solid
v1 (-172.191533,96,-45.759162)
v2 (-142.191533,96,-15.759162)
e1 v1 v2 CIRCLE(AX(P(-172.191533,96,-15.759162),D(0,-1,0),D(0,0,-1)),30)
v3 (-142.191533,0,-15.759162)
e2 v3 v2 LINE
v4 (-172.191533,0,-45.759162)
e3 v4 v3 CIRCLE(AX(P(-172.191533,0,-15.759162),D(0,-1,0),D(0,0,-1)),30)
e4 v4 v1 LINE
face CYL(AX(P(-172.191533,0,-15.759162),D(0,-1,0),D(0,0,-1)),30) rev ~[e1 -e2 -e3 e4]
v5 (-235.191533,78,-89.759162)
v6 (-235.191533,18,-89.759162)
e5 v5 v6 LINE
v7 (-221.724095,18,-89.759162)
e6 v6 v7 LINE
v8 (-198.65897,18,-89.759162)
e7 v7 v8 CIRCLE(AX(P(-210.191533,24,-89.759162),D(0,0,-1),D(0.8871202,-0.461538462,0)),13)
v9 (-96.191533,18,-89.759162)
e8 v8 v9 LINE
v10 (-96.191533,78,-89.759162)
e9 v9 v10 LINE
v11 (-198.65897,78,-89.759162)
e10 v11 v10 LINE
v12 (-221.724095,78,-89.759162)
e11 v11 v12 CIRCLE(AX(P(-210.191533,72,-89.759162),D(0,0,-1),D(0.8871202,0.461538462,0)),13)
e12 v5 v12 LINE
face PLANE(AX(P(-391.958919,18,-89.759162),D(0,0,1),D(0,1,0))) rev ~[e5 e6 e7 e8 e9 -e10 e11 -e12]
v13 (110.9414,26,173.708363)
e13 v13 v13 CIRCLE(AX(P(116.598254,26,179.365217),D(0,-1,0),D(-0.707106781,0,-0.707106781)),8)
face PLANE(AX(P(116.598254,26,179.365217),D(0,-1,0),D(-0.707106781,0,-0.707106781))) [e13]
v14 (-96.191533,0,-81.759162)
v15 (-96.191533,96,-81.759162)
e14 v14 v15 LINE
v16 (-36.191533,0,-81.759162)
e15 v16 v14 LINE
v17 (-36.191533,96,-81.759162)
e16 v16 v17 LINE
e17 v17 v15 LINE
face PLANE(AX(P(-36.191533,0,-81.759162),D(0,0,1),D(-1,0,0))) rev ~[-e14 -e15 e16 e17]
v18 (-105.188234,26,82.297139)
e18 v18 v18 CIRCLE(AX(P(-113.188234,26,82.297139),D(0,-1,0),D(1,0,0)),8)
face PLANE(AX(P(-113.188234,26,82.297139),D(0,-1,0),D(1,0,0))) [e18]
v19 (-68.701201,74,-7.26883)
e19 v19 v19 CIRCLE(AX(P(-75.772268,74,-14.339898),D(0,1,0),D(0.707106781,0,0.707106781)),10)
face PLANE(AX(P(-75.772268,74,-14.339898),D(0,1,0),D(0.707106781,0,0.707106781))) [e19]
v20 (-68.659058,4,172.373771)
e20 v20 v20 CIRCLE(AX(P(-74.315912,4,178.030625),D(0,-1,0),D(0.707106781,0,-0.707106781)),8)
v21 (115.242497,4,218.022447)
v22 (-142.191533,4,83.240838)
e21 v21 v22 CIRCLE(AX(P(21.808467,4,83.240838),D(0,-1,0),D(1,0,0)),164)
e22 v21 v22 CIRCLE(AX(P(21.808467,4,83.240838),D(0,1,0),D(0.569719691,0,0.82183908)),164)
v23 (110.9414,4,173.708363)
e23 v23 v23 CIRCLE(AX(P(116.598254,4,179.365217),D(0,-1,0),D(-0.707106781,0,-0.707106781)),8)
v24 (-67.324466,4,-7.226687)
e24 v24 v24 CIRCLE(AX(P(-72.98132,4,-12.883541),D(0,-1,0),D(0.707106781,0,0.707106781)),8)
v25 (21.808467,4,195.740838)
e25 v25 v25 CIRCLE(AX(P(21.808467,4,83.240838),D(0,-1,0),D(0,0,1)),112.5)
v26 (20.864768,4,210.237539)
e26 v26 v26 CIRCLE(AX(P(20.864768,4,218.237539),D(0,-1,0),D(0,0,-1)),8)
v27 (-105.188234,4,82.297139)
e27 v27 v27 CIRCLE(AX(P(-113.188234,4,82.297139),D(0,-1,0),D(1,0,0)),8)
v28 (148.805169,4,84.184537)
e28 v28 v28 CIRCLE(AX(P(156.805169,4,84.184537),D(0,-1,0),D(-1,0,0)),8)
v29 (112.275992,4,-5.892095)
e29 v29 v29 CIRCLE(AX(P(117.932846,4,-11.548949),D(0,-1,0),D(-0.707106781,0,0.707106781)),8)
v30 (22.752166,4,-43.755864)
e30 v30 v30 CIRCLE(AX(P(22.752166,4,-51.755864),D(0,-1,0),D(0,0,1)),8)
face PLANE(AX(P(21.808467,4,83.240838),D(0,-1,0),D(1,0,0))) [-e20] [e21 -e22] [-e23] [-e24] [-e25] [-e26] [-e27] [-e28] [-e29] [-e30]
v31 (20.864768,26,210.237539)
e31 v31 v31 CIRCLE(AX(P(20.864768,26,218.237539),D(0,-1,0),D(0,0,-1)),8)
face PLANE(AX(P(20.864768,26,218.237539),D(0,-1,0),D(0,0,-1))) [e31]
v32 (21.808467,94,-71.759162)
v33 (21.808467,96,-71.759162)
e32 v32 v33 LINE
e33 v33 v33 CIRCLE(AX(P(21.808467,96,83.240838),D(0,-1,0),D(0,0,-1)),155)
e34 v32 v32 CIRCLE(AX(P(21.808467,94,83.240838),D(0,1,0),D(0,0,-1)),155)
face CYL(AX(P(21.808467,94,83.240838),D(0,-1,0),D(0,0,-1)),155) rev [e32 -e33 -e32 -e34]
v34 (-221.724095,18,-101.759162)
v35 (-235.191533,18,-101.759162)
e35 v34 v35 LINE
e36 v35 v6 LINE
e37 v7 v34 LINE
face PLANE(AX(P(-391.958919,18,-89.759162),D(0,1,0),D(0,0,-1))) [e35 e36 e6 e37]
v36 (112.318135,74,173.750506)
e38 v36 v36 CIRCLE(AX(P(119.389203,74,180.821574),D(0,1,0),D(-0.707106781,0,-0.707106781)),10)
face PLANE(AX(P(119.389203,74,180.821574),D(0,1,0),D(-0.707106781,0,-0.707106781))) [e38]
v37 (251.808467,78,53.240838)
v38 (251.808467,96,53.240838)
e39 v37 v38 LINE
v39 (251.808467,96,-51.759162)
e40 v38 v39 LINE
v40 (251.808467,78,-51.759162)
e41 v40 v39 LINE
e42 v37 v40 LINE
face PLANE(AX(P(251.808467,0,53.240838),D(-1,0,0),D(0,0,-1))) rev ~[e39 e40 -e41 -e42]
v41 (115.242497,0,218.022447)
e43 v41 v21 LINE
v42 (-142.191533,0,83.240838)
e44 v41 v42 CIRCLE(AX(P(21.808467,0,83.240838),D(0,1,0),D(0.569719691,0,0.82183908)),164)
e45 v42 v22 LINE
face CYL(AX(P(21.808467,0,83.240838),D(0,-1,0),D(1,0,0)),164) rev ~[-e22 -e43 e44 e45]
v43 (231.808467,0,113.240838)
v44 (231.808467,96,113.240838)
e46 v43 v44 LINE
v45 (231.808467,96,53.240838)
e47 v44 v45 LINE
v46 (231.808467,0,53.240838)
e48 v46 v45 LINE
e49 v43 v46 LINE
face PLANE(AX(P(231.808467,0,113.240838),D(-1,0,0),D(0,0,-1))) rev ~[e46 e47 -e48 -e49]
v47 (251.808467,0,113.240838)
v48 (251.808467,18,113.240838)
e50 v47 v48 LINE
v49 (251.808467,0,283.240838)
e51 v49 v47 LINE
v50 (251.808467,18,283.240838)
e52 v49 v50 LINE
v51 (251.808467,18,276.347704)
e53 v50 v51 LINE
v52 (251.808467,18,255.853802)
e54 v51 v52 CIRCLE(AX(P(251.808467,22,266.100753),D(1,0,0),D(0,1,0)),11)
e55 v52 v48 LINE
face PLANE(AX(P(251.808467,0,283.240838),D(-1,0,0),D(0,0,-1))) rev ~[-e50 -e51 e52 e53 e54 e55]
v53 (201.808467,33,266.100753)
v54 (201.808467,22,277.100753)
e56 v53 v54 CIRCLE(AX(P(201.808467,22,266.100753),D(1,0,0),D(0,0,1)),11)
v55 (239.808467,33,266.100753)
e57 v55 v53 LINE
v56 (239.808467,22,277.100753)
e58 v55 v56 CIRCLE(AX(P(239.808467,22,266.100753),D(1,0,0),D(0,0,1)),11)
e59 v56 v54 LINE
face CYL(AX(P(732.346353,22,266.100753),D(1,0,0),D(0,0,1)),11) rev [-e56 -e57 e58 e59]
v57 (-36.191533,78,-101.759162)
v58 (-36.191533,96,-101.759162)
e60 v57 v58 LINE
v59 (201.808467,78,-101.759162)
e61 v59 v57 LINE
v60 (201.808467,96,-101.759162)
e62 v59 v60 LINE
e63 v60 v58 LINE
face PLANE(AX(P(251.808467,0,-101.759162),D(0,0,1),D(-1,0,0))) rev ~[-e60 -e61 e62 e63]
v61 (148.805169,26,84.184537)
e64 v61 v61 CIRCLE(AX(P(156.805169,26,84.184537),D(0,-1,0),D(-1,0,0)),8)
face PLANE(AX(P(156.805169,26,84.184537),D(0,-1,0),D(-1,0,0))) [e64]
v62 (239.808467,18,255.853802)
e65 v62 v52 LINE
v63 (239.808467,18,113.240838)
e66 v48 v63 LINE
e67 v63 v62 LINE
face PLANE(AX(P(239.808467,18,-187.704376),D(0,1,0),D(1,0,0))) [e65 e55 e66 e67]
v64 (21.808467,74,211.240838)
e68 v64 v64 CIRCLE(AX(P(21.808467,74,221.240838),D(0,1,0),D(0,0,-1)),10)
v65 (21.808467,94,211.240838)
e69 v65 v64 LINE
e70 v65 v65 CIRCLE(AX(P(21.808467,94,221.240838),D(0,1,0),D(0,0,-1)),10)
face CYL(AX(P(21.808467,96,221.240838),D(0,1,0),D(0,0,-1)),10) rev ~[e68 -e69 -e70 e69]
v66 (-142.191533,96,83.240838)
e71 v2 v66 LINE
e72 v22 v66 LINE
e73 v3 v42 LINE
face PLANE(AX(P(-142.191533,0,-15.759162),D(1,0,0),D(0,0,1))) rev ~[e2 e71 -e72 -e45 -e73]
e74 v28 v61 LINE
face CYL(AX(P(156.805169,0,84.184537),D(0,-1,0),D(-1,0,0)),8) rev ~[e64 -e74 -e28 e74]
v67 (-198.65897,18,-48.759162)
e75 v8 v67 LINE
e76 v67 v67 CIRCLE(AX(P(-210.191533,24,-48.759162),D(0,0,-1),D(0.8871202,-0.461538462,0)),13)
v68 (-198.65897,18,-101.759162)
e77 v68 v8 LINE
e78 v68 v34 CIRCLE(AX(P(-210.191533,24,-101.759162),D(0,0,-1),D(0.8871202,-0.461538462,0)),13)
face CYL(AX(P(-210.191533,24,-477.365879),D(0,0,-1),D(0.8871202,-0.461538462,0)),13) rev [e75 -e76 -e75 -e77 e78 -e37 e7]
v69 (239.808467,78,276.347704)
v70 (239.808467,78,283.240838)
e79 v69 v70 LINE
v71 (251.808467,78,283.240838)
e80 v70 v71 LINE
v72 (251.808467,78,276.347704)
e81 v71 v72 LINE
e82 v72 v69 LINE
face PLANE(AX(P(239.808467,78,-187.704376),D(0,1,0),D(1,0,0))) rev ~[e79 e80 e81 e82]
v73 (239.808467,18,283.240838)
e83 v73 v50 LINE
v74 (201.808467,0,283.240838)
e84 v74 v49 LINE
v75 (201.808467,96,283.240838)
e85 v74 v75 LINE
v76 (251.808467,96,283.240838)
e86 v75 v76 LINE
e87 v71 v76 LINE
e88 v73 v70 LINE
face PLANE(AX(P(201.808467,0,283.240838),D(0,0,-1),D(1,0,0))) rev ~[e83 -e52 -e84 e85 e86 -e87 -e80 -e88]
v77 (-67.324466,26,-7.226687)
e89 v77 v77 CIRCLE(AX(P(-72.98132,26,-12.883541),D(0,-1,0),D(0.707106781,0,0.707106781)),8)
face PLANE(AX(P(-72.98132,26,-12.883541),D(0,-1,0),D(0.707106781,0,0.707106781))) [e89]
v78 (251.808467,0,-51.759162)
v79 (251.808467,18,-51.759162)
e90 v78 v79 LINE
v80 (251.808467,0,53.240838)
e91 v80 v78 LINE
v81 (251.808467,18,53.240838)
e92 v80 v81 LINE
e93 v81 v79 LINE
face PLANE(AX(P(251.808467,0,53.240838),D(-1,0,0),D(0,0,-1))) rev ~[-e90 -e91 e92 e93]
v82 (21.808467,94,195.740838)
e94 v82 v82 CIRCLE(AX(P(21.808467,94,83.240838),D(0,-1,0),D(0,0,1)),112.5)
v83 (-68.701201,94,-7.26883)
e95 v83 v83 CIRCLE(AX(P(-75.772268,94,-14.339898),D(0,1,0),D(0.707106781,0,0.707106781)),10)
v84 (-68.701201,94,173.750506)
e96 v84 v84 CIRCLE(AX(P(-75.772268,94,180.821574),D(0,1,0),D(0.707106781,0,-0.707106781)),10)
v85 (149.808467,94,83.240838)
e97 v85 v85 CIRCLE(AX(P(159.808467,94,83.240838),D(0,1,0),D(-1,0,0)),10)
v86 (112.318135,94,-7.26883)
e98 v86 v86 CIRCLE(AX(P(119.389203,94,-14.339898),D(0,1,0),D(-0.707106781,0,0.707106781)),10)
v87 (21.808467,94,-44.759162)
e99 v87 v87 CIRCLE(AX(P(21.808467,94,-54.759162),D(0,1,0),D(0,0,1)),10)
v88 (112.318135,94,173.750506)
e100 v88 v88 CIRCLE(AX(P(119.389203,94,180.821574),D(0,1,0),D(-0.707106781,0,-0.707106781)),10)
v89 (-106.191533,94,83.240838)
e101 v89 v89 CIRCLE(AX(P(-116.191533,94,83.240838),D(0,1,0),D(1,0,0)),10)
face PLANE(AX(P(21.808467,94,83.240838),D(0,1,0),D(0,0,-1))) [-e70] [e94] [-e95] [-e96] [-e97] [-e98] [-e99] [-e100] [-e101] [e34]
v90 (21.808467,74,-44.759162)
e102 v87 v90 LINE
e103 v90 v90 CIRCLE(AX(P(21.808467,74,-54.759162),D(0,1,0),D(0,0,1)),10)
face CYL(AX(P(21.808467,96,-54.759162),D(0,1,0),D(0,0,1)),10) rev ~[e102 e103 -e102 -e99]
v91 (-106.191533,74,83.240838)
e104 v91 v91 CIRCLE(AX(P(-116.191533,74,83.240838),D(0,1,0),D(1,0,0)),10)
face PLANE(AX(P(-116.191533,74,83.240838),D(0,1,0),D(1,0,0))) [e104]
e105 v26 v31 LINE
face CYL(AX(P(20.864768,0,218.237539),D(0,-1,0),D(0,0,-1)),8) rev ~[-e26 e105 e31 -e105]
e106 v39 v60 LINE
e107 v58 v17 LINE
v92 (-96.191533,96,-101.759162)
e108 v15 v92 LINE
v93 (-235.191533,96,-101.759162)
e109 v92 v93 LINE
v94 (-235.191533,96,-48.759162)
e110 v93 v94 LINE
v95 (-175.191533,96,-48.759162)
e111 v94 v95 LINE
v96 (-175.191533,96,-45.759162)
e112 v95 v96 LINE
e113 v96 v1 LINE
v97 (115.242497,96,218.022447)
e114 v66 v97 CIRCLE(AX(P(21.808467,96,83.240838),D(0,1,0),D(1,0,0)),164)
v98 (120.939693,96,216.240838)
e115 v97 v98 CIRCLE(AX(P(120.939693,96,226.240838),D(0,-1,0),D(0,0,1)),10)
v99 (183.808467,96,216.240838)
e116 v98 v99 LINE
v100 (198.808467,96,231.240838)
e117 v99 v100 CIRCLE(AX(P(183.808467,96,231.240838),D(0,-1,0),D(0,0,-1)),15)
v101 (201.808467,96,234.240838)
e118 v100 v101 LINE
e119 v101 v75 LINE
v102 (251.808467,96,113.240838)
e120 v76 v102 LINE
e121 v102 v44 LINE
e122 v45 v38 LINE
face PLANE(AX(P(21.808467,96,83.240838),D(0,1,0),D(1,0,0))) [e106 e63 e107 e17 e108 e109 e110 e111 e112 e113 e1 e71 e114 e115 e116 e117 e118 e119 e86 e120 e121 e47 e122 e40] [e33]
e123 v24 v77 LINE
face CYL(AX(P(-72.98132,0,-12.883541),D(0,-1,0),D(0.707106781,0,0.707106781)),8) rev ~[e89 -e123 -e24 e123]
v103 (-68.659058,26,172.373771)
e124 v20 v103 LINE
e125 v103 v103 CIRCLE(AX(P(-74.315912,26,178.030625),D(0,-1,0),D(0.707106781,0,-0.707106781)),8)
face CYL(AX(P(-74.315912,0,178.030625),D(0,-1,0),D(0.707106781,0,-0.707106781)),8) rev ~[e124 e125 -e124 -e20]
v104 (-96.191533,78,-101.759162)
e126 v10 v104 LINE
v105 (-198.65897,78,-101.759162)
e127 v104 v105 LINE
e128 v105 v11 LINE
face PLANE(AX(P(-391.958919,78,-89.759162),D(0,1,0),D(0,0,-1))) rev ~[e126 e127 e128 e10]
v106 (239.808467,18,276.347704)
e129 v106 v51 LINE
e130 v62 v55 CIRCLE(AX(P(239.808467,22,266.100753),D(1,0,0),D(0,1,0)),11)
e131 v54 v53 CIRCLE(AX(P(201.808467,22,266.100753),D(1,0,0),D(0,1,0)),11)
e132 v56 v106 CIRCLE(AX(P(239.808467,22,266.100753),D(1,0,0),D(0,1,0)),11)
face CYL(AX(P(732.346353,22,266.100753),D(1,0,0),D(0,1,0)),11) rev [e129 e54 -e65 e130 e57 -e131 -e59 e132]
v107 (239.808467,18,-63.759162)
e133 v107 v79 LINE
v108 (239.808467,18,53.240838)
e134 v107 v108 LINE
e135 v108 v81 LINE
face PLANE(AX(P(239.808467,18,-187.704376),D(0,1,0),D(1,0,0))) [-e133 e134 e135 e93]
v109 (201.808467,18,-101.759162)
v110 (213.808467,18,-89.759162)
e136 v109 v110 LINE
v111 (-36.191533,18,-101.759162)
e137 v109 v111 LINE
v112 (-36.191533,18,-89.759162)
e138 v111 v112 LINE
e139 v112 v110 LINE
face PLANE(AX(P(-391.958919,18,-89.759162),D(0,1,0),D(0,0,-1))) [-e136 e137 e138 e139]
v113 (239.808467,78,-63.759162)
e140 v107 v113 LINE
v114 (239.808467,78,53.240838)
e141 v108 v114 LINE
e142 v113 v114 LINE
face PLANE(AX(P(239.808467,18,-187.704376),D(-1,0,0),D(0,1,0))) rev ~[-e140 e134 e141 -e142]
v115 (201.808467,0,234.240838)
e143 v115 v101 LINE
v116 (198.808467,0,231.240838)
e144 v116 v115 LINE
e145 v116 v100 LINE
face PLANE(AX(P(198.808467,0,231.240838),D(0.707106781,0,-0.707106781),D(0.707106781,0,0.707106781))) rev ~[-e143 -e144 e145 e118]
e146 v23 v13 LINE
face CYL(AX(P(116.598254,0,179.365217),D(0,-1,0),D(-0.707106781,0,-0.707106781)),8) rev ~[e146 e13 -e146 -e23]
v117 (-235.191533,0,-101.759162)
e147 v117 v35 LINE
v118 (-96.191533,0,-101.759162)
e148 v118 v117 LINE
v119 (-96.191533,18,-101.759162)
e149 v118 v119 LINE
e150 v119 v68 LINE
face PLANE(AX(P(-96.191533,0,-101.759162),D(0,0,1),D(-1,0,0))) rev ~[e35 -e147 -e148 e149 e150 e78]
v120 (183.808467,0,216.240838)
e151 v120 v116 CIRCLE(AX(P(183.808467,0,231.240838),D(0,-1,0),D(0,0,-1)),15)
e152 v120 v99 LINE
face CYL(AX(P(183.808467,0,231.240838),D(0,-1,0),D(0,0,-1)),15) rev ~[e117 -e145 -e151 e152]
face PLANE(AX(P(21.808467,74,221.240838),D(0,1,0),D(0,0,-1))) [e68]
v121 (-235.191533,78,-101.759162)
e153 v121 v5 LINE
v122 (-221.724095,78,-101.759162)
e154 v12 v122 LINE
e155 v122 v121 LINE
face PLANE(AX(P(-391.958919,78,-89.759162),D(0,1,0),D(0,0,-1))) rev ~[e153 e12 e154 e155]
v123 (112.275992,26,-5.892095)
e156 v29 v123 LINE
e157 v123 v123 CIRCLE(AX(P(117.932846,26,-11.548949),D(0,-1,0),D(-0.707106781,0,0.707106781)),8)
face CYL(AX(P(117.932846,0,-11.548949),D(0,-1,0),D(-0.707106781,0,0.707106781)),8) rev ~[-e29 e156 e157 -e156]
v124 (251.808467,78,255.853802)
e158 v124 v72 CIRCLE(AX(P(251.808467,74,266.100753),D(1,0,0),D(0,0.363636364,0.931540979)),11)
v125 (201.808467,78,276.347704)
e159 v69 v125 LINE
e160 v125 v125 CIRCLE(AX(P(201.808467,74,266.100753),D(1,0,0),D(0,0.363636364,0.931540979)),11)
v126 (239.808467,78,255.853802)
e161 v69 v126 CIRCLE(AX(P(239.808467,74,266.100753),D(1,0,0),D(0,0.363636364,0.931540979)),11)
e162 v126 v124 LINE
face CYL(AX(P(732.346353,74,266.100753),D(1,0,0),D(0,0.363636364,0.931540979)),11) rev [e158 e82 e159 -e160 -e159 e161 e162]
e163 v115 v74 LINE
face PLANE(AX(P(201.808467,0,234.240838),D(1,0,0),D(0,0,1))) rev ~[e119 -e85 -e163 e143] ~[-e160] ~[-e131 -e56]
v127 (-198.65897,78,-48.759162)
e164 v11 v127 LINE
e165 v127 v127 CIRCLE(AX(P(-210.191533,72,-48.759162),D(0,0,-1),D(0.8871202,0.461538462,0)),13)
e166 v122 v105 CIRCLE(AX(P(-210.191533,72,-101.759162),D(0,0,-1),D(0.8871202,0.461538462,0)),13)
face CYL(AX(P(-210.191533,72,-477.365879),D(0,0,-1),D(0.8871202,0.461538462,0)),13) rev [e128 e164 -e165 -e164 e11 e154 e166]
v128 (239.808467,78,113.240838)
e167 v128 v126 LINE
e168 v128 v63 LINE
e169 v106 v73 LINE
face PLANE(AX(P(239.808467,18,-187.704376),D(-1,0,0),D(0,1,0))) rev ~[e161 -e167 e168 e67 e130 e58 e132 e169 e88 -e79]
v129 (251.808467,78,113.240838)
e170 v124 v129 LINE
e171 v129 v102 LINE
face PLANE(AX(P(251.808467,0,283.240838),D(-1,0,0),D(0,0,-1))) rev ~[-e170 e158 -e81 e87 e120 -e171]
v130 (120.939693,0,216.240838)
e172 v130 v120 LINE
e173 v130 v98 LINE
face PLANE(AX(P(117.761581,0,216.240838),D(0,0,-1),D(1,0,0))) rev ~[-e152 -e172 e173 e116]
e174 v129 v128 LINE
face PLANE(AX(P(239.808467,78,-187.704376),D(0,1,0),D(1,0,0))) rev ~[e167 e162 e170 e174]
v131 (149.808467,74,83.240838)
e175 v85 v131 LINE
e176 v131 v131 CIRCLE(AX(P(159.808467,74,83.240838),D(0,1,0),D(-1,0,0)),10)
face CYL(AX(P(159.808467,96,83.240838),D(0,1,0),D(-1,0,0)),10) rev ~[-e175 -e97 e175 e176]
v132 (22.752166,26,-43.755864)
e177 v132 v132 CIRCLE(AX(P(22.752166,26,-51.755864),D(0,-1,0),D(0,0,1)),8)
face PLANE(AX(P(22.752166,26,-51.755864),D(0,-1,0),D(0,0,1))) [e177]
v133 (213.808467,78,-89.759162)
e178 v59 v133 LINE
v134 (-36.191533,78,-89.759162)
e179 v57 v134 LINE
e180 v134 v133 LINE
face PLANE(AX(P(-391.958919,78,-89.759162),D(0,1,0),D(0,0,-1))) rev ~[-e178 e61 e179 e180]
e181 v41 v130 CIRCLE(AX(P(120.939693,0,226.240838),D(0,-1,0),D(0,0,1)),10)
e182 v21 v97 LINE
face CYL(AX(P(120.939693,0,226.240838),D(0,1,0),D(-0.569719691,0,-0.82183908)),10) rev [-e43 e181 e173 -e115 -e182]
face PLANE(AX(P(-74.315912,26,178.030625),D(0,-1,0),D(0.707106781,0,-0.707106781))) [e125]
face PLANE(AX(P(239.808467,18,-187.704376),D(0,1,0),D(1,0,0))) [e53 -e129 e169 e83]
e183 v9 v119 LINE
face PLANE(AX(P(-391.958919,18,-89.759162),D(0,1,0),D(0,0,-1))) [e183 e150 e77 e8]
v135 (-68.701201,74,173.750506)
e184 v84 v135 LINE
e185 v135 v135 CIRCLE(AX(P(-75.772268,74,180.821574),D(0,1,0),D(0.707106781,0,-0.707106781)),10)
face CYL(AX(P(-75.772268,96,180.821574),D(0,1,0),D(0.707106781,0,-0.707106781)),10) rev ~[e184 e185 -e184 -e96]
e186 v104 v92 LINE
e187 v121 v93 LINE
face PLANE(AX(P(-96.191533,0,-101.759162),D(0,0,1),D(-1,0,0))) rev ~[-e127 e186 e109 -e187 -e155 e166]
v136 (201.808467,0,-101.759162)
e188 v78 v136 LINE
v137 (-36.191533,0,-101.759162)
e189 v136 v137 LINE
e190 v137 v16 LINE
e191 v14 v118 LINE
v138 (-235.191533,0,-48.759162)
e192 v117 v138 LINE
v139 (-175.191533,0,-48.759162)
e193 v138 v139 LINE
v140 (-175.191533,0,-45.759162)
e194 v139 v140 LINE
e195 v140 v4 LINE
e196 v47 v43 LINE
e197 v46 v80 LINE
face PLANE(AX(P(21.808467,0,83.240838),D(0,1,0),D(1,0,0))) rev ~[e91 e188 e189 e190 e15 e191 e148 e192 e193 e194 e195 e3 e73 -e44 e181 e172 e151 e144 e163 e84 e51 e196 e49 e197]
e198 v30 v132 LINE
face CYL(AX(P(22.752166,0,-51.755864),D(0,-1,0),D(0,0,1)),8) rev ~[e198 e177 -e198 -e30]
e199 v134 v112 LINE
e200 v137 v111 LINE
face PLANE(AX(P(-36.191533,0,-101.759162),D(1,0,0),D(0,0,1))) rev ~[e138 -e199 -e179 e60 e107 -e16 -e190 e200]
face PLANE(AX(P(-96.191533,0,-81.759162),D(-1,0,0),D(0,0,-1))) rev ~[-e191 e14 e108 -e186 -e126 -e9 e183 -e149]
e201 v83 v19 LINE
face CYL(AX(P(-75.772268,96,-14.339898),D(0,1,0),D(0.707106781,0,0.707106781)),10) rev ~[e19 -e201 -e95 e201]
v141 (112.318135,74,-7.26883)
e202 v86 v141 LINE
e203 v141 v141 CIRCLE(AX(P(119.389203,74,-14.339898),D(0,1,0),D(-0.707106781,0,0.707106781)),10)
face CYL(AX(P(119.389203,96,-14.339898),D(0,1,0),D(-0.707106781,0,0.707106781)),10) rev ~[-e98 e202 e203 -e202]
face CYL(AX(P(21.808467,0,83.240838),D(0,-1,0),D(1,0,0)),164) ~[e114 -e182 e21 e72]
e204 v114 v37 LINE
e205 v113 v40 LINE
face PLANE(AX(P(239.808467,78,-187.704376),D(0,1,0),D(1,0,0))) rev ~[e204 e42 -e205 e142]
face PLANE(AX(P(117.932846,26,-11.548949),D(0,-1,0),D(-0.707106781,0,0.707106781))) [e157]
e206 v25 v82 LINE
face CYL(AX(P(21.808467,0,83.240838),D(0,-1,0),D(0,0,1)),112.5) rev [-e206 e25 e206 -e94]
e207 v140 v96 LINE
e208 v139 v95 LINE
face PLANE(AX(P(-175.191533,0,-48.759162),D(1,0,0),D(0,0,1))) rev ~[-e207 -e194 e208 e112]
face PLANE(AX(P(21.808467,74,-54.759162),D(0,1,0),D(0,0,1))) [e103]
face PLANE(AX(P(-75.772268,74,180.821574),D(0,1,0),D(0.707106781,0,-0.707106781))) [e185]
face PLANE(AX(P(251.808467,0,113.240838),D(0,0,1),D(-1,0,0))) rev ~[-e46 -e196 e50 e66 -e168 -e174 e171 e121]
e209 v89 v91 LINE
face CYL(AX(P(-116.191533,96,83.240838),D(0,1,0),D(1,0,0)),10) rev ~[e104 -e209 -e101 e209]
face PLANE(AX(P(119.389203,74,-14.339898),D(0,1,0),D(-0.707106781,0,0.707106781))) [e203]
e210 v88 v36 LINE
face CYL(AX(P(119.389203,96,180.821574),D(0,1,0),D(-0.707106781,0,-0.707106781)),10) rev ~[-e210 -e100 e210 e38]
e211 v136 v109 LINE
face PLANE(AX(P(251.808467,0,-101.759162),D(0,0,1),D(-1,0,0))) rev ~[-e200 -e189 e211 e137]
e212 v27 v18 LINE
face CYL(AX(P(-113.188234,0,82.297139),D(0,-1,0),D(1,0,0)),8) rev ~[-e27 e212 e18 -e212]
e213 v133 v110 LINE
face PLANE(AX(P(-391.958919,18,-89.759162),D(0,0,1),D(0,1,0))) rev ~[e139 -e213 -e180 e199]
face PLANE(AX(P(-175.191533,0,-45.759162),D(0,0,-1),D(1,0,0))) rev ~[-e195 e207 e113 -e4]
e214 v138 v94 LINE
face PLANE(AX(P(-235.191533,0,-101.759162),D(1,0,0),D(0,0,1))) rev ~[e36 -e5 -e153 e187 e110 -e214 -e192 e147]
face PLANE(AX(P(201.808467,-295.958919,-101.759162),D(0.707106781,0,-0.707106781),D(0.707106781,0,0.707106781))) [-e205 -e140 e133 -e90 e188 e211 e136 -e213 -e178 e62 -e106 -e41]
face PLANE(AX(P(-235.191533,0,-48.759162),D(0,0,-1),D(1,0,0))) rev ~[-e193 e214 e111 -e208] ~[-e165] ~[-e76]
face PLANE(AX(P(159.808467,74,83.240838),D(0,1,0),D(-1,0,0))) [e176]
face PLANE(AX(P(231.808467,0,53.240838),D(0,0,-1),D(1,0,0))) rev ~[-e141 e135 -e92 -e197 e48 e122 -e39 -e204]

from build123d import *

# Parameters (mm, degrees)
BOSS_EXTRUDE1_DEPTH      = 96
BOSS_EXTRUDE2_START      = -96
SKETCH2_R                = 164
SKETCH2_R_2              = 112.5
BOSS_EXTRUDE2_DEPTH      = 96
SKETCH3_R                = 10
CUT_EXTRUDE2_DEPTH       = 22
CIRPATTERN1_COUNT        = 8
SKETCH4_R                = 8
CUT_EXTRUDE3_DEPTH       = 26
CIRPATTERN2_COUNT        = 8
FILLET1_R                = 10
CUT_EXTRUDE4_DEPTH       = 391.958919102
CUT_EXTRUDE4_DEPTH_BACK  = 391.958919102
CUT_EXTRUDE5_DEPTH       = 391.958919102
CUT_EXTRUDE5_DEPTH_BACK  = 2
SKETCH6_R                = 155
SKETCH7_R                = 164
CUT_EXTRUDE6_DEPTH       = 4
CUT_EXTRUDE7_DEPTH       = 391.958919102
CUT_EXTRUDE7_DEPTH_BACK  = 391.958919102
SKETCH8_W                = 24
SKETCH8_H                = 60
CUT_EXTRUDE8_DEPTH       = 470.945214053
CUT_EXTRUDE8_DEPTH_BACK  = 470.945214053
SKETCH9_W                = 24
SKETCH9_H                = 60
CUT_EXTRUDE9_DEPTH       = 530.537885533
CUT_EXTRUDE9_DEPTH_BACK  = 530.537885533
SKETCH10_R               = 11
CUT_EXTRUDE10_DEPTH      = 428.606716751
CUT_EXTRUDE10_DEPTH_BACK = 428.606716751
SKETCH11_R               = 13


with BuildPart() as part:
    # Sketch1 → Boss-Extrude1 (new body)
    with BuildSketch(Plane(origin=(0, 0, 0), x_dir=(1, 0, 0), z_dir=(0, 1, 0))):
        with BuildLine():
            Line((-96.191532686, 101.75916217), (-235.191532686, 101.75916217))
            Line((-235.191532686, 101.75916217), (-235.191532686, 48.75916217))
            Line((-235.191532686, 48.75916217), (-175.191532686, 48.75916217))
            Line((-175.191532686, 48.75916217), (-175.191532686, 45.75916217))
            Line((-175.191532686, 45.75916217), (-172.191532686, 45.75916217))
            ThreePointArc((-172.191532686, 45.75916217), (-150.978329251, 36.972365606), (-142.191532686, 15.75916217))
            Line((-142.191532686, 15.75916217), (-142.191532686, -83.24083783))
            ThreePointArc((-142.191532686, -83.24083783), (21.808467314, 80.75916217), (185.808467314, -83.24083783))
            ThreePointArc((185.808467314, -83.24083783), (167.8089992, -157.939195837), (117.761580864, -216.24083783))
            Line((117.761580864, -216.24083783), (183.808467314, -216.24083783))
            ThreePointArc((183.808467314, -216.24083783), (194.415069031, -220.634236112), (198.808467314, -231.24083783))
            Line((198.808467314, -231.24083783), (201.808467314, -234.24083783))
            Line((201.808467314, -234.24083783), (201.808467314, -283.24083783))
            Line((201.808467314, -283.24083783), (251.808467314, -283.24083783))
            Line((251.808467314, -283.24083783), (251.808467314, -113.24083783))
            Line((251.808467314, -113.24083783), (231.808467314, -113.24083783))
            Line((231.808467314, -113.24083783), (231.808467314, -53.24083783))
            Line((231.808467314, -53.24083783), (251.808467314, -53.24083783))
            Line((251.808467314, -53.24083783), (251.808467314, 45.75916217))
            Line((251.808467314, 45.75916217), (251.808467314, 101.75916217))
            Line((251.808467314, 101.75916217), (-36.191532686, 101.75916217))
            Line((-36.191532686, 101.75916217), (-36.191532686, 81.75916217))
            Line((-36.191532686, 81.75916217), (-96.191532686, 81.75916217))
            Line((-96.191532686, 81.75916217), (-96.191532686, 101.75916217))
        make_face()
    extrude(amount=BOSS_EXTRUDE1_DEPTH)

    # Sketch2 → Boss-Extrude2 (add)
    with BuildSketch(Plane(origin=(0, 96, 0), x_dir=(1, 0, 0), z_dir=(0, 1, 0)).offset(BOSS_EXTRUDE2_START)):
        with Locations((21.808467314, -83.24083783)):
            Circle(SKETCH2_R)
        with Locations(Location((21.808467314, -83.24083783, 0), (0, 0, 270))):
            Circle(SKETCH2_R_2, mode=Mode.SUBTRACT)
    extrude(amount=BOSS_EXTRUDE2_DEPTH)

    # Sketch3 → Cut-Extrude2 (cut)
    with BuildSketch(Plane(origin=(0, 96, 0), x_dir=(1, 0, 0), z_dir=(0, 1, 0))):
        with Locations(Location((21.808467314, 54.75916217, 0), (0, 0, 270))):
            Circle(SKETCH3_R)
    cut_extrude2 = extrude(amount=-CUT_EXTRUDE2_DEPTH, mode=Mode.SUBTRACT)

    # CirPattern1: Cut-Extrude2 ×8 about axis
    cirpattern1_axis = Axis((21.808467314, 0, 83.24083783), (0, 1, 0))
    for i in range(1, CIRPATTERN1_COUNT):
        add(cut_extrude2.rotate(cirpattern1_axis, i * 360 / CIRPATTERN1_COUNT), mode=Mode.SUBTRACT)

    # Sketch4 → Cut-Extrude3 (cut)
    with BuildSketch(Plane(origin=(0, 0, 0), x_dir=(-1, 0, 0), z_dir=(0, -1, 0))):
        with Locations(Location((-20.864768315, -218.23753939, 0), (0, 0, 90))):
            Circle(SKETCH4_R)
    cut_extrude3 = extrude(amount=-CUT_EXTRUDE3_DEPTH, mode=Mode.SUBTRACT)

    # CirPattern2: Cut-Extrude3 ×8 about axis
    cirpattern2_axis = Axis((21.808467314, 0, 83.24083783), (0, 1, 0))
    for i in range(1, CIRPATTERN2_COUNT):
        add(cut_extrude3.rotate(cirpattern2_axis, i * 360 / CIRPATTERN2_COUNT), mode=Mode.SUBTRACT)

    # Fillet1
    fillet1_edges = [part.edges().sort_by_distance(p)[0] for p in [
        (117.761580864, 48, 216.24083783),
    ]]
    fillet(fillet1_edges, radius=FILLET1_R)

    # Sketch5 → Cut-Extrude4 (cut, two sides: drawn at the far end of the back side and taken through both)
    with BuildSketch(Plane(origin=(0, 96, 0), x_dir=(1, 0, 0), z_dir=(0, 1, 0)).offset(-CUT_EXTRUDE4_DEPTH_BACK)):
        Polygon((251.808467314, 101.75916217), (201.808467314, 101.75916217), (251.808467314, 51.75916217), align=None)
    extrude(amount=CUT_EXTRUDE4_DEPTH + CUT_EXTRUDE4_DEPTH_BACK, mode=Mode.SUBTRACT)

    # Sketch6 → Cut-Extrude5 (cut, two sides: drawn at the far end of the back side and taken through both)
    with BuildSketch(Plane(origin=(0, 96, 0), x_dir=(1, 0, 0), z_dir=(0, 1, 0)).offset(-CUT_EXTRUDE5_DEPTH_BACK)):
        with Locations(Location((21.808467314, -83.24083783, 0), (0, 0, 90))):
            Circle(SKETCH6_R)
    extrude(amount=CUT_EXTRUDE5_DEPTH + CUT_EXTRUDE5_DEPTH_BACK, mode=Mode.SUBTRACT)

    # Sketch7 → Cut-Extrude6 (cut)
    with BuildSketch(Plane.XZ):
        with Locations((21.808467314, 83.24083783)):
            Circle(SKETCH7_R)
    extrude(amount=-CUT_EXTRUDE6_DEPTH, mode=Mode.SUBTRACT)

    # Sketch8 → Cut-Extrude7 (cut, two sides: drawn at the far end of the back side and taken through both)
    with BuildSketch(Plane(origin=(0, 0, 0), x_dir=(0, 0, -1), z_dir=(1, 0, 0)).offset(-CUT_EXTRUDE7_DEPTH_BACK)):
        with Locations((101.75916217, 48)):
            Rectangle(SKETCH8_W, SKETCH8_H)
    extrude(amount=CUT_EXTRUDE7_DEPTH + CUT_EXTRUDE7_DEPTH_BACK, mode=Mode.SUBTRACT)

    # Sketch9 → Cut-Extrude8 (cut, two sides: drawn at the far end of the back side and taken through both)
    with BuildSketch(Plane.XY.offset(283.24083783).offset(-CUT_EXTRUDE8_DEPTH_BACK)):
        with Locations((251.808467314, 48)):
            Rectangle(SKETCH9_W, SKETCH9_H)
    extrude(amount=CUT_EXTRUDE8_DEPTH + CUT_EXTRUDE8_DEPTH_BACK, mode=Mode.SUBTRACT)

    # Sketch10 → Cut-Extrude9 (cut, two sides: drawn at the far end of the back side and taken through both)
    with BuildSketch(Plane.ZY.offset(-201.808467314).offset(-CUT_EXTRUDE9_DEPTH_BACK)):
        with BuildLine():
            Line((266.100753095, 33), (266.100753095, 22))
            Line((266.100753095, 22), (277.100753095, 22))
            ThreePointArc((277.100753095, 22), (273.878927688, 29.778174593), (266.100753095, 33))
        make_face()
        with BuildLine():
            Line((277.100753095, 22), (266.100753095, 22))
            Line((266.100753095, 22), (266.100753095, 33))
            ThreePointArc((266.100753095, 33), (258.322578502, 14.221825407), (277.100753095, 22))
        make_face()
        with Locations(Location((266.100753095, 74, 0), (0, 0, 21.323686263))):
            Circle(SKETCH10_R)
    extrude(amount=CUT_EXTRUDE9_DEPTH + CUT_EXTRUDE9_DEPTH_BACK, mode=Mode.SUBTRACT)

    # Sketch11 → Cut-Extrude10 (cut, two sides: drawn at the far end of the back side and taken through both)
    with BuildSketch(Plane.XY.offset(-48.75916217).offset(-CUT_EXTRUDE10_DEPTH_BACK)):
        with Locations(Location((-210.191532686, 72, 0), (0, 0, 27.48642625))):
            Circle(SKETCH11_R)
        with Locations(Location((-210.191532686, 24, 0), (0, 0, 332.51357375))):
            Circle(SKETCH11_R)
    extrude(amount=CUT_EXTRUDE10_DEPTH + CUT_EXTRUDE10_DEPTH_BACK, mode=Mode.SUBTRACT)


solid = part.part
